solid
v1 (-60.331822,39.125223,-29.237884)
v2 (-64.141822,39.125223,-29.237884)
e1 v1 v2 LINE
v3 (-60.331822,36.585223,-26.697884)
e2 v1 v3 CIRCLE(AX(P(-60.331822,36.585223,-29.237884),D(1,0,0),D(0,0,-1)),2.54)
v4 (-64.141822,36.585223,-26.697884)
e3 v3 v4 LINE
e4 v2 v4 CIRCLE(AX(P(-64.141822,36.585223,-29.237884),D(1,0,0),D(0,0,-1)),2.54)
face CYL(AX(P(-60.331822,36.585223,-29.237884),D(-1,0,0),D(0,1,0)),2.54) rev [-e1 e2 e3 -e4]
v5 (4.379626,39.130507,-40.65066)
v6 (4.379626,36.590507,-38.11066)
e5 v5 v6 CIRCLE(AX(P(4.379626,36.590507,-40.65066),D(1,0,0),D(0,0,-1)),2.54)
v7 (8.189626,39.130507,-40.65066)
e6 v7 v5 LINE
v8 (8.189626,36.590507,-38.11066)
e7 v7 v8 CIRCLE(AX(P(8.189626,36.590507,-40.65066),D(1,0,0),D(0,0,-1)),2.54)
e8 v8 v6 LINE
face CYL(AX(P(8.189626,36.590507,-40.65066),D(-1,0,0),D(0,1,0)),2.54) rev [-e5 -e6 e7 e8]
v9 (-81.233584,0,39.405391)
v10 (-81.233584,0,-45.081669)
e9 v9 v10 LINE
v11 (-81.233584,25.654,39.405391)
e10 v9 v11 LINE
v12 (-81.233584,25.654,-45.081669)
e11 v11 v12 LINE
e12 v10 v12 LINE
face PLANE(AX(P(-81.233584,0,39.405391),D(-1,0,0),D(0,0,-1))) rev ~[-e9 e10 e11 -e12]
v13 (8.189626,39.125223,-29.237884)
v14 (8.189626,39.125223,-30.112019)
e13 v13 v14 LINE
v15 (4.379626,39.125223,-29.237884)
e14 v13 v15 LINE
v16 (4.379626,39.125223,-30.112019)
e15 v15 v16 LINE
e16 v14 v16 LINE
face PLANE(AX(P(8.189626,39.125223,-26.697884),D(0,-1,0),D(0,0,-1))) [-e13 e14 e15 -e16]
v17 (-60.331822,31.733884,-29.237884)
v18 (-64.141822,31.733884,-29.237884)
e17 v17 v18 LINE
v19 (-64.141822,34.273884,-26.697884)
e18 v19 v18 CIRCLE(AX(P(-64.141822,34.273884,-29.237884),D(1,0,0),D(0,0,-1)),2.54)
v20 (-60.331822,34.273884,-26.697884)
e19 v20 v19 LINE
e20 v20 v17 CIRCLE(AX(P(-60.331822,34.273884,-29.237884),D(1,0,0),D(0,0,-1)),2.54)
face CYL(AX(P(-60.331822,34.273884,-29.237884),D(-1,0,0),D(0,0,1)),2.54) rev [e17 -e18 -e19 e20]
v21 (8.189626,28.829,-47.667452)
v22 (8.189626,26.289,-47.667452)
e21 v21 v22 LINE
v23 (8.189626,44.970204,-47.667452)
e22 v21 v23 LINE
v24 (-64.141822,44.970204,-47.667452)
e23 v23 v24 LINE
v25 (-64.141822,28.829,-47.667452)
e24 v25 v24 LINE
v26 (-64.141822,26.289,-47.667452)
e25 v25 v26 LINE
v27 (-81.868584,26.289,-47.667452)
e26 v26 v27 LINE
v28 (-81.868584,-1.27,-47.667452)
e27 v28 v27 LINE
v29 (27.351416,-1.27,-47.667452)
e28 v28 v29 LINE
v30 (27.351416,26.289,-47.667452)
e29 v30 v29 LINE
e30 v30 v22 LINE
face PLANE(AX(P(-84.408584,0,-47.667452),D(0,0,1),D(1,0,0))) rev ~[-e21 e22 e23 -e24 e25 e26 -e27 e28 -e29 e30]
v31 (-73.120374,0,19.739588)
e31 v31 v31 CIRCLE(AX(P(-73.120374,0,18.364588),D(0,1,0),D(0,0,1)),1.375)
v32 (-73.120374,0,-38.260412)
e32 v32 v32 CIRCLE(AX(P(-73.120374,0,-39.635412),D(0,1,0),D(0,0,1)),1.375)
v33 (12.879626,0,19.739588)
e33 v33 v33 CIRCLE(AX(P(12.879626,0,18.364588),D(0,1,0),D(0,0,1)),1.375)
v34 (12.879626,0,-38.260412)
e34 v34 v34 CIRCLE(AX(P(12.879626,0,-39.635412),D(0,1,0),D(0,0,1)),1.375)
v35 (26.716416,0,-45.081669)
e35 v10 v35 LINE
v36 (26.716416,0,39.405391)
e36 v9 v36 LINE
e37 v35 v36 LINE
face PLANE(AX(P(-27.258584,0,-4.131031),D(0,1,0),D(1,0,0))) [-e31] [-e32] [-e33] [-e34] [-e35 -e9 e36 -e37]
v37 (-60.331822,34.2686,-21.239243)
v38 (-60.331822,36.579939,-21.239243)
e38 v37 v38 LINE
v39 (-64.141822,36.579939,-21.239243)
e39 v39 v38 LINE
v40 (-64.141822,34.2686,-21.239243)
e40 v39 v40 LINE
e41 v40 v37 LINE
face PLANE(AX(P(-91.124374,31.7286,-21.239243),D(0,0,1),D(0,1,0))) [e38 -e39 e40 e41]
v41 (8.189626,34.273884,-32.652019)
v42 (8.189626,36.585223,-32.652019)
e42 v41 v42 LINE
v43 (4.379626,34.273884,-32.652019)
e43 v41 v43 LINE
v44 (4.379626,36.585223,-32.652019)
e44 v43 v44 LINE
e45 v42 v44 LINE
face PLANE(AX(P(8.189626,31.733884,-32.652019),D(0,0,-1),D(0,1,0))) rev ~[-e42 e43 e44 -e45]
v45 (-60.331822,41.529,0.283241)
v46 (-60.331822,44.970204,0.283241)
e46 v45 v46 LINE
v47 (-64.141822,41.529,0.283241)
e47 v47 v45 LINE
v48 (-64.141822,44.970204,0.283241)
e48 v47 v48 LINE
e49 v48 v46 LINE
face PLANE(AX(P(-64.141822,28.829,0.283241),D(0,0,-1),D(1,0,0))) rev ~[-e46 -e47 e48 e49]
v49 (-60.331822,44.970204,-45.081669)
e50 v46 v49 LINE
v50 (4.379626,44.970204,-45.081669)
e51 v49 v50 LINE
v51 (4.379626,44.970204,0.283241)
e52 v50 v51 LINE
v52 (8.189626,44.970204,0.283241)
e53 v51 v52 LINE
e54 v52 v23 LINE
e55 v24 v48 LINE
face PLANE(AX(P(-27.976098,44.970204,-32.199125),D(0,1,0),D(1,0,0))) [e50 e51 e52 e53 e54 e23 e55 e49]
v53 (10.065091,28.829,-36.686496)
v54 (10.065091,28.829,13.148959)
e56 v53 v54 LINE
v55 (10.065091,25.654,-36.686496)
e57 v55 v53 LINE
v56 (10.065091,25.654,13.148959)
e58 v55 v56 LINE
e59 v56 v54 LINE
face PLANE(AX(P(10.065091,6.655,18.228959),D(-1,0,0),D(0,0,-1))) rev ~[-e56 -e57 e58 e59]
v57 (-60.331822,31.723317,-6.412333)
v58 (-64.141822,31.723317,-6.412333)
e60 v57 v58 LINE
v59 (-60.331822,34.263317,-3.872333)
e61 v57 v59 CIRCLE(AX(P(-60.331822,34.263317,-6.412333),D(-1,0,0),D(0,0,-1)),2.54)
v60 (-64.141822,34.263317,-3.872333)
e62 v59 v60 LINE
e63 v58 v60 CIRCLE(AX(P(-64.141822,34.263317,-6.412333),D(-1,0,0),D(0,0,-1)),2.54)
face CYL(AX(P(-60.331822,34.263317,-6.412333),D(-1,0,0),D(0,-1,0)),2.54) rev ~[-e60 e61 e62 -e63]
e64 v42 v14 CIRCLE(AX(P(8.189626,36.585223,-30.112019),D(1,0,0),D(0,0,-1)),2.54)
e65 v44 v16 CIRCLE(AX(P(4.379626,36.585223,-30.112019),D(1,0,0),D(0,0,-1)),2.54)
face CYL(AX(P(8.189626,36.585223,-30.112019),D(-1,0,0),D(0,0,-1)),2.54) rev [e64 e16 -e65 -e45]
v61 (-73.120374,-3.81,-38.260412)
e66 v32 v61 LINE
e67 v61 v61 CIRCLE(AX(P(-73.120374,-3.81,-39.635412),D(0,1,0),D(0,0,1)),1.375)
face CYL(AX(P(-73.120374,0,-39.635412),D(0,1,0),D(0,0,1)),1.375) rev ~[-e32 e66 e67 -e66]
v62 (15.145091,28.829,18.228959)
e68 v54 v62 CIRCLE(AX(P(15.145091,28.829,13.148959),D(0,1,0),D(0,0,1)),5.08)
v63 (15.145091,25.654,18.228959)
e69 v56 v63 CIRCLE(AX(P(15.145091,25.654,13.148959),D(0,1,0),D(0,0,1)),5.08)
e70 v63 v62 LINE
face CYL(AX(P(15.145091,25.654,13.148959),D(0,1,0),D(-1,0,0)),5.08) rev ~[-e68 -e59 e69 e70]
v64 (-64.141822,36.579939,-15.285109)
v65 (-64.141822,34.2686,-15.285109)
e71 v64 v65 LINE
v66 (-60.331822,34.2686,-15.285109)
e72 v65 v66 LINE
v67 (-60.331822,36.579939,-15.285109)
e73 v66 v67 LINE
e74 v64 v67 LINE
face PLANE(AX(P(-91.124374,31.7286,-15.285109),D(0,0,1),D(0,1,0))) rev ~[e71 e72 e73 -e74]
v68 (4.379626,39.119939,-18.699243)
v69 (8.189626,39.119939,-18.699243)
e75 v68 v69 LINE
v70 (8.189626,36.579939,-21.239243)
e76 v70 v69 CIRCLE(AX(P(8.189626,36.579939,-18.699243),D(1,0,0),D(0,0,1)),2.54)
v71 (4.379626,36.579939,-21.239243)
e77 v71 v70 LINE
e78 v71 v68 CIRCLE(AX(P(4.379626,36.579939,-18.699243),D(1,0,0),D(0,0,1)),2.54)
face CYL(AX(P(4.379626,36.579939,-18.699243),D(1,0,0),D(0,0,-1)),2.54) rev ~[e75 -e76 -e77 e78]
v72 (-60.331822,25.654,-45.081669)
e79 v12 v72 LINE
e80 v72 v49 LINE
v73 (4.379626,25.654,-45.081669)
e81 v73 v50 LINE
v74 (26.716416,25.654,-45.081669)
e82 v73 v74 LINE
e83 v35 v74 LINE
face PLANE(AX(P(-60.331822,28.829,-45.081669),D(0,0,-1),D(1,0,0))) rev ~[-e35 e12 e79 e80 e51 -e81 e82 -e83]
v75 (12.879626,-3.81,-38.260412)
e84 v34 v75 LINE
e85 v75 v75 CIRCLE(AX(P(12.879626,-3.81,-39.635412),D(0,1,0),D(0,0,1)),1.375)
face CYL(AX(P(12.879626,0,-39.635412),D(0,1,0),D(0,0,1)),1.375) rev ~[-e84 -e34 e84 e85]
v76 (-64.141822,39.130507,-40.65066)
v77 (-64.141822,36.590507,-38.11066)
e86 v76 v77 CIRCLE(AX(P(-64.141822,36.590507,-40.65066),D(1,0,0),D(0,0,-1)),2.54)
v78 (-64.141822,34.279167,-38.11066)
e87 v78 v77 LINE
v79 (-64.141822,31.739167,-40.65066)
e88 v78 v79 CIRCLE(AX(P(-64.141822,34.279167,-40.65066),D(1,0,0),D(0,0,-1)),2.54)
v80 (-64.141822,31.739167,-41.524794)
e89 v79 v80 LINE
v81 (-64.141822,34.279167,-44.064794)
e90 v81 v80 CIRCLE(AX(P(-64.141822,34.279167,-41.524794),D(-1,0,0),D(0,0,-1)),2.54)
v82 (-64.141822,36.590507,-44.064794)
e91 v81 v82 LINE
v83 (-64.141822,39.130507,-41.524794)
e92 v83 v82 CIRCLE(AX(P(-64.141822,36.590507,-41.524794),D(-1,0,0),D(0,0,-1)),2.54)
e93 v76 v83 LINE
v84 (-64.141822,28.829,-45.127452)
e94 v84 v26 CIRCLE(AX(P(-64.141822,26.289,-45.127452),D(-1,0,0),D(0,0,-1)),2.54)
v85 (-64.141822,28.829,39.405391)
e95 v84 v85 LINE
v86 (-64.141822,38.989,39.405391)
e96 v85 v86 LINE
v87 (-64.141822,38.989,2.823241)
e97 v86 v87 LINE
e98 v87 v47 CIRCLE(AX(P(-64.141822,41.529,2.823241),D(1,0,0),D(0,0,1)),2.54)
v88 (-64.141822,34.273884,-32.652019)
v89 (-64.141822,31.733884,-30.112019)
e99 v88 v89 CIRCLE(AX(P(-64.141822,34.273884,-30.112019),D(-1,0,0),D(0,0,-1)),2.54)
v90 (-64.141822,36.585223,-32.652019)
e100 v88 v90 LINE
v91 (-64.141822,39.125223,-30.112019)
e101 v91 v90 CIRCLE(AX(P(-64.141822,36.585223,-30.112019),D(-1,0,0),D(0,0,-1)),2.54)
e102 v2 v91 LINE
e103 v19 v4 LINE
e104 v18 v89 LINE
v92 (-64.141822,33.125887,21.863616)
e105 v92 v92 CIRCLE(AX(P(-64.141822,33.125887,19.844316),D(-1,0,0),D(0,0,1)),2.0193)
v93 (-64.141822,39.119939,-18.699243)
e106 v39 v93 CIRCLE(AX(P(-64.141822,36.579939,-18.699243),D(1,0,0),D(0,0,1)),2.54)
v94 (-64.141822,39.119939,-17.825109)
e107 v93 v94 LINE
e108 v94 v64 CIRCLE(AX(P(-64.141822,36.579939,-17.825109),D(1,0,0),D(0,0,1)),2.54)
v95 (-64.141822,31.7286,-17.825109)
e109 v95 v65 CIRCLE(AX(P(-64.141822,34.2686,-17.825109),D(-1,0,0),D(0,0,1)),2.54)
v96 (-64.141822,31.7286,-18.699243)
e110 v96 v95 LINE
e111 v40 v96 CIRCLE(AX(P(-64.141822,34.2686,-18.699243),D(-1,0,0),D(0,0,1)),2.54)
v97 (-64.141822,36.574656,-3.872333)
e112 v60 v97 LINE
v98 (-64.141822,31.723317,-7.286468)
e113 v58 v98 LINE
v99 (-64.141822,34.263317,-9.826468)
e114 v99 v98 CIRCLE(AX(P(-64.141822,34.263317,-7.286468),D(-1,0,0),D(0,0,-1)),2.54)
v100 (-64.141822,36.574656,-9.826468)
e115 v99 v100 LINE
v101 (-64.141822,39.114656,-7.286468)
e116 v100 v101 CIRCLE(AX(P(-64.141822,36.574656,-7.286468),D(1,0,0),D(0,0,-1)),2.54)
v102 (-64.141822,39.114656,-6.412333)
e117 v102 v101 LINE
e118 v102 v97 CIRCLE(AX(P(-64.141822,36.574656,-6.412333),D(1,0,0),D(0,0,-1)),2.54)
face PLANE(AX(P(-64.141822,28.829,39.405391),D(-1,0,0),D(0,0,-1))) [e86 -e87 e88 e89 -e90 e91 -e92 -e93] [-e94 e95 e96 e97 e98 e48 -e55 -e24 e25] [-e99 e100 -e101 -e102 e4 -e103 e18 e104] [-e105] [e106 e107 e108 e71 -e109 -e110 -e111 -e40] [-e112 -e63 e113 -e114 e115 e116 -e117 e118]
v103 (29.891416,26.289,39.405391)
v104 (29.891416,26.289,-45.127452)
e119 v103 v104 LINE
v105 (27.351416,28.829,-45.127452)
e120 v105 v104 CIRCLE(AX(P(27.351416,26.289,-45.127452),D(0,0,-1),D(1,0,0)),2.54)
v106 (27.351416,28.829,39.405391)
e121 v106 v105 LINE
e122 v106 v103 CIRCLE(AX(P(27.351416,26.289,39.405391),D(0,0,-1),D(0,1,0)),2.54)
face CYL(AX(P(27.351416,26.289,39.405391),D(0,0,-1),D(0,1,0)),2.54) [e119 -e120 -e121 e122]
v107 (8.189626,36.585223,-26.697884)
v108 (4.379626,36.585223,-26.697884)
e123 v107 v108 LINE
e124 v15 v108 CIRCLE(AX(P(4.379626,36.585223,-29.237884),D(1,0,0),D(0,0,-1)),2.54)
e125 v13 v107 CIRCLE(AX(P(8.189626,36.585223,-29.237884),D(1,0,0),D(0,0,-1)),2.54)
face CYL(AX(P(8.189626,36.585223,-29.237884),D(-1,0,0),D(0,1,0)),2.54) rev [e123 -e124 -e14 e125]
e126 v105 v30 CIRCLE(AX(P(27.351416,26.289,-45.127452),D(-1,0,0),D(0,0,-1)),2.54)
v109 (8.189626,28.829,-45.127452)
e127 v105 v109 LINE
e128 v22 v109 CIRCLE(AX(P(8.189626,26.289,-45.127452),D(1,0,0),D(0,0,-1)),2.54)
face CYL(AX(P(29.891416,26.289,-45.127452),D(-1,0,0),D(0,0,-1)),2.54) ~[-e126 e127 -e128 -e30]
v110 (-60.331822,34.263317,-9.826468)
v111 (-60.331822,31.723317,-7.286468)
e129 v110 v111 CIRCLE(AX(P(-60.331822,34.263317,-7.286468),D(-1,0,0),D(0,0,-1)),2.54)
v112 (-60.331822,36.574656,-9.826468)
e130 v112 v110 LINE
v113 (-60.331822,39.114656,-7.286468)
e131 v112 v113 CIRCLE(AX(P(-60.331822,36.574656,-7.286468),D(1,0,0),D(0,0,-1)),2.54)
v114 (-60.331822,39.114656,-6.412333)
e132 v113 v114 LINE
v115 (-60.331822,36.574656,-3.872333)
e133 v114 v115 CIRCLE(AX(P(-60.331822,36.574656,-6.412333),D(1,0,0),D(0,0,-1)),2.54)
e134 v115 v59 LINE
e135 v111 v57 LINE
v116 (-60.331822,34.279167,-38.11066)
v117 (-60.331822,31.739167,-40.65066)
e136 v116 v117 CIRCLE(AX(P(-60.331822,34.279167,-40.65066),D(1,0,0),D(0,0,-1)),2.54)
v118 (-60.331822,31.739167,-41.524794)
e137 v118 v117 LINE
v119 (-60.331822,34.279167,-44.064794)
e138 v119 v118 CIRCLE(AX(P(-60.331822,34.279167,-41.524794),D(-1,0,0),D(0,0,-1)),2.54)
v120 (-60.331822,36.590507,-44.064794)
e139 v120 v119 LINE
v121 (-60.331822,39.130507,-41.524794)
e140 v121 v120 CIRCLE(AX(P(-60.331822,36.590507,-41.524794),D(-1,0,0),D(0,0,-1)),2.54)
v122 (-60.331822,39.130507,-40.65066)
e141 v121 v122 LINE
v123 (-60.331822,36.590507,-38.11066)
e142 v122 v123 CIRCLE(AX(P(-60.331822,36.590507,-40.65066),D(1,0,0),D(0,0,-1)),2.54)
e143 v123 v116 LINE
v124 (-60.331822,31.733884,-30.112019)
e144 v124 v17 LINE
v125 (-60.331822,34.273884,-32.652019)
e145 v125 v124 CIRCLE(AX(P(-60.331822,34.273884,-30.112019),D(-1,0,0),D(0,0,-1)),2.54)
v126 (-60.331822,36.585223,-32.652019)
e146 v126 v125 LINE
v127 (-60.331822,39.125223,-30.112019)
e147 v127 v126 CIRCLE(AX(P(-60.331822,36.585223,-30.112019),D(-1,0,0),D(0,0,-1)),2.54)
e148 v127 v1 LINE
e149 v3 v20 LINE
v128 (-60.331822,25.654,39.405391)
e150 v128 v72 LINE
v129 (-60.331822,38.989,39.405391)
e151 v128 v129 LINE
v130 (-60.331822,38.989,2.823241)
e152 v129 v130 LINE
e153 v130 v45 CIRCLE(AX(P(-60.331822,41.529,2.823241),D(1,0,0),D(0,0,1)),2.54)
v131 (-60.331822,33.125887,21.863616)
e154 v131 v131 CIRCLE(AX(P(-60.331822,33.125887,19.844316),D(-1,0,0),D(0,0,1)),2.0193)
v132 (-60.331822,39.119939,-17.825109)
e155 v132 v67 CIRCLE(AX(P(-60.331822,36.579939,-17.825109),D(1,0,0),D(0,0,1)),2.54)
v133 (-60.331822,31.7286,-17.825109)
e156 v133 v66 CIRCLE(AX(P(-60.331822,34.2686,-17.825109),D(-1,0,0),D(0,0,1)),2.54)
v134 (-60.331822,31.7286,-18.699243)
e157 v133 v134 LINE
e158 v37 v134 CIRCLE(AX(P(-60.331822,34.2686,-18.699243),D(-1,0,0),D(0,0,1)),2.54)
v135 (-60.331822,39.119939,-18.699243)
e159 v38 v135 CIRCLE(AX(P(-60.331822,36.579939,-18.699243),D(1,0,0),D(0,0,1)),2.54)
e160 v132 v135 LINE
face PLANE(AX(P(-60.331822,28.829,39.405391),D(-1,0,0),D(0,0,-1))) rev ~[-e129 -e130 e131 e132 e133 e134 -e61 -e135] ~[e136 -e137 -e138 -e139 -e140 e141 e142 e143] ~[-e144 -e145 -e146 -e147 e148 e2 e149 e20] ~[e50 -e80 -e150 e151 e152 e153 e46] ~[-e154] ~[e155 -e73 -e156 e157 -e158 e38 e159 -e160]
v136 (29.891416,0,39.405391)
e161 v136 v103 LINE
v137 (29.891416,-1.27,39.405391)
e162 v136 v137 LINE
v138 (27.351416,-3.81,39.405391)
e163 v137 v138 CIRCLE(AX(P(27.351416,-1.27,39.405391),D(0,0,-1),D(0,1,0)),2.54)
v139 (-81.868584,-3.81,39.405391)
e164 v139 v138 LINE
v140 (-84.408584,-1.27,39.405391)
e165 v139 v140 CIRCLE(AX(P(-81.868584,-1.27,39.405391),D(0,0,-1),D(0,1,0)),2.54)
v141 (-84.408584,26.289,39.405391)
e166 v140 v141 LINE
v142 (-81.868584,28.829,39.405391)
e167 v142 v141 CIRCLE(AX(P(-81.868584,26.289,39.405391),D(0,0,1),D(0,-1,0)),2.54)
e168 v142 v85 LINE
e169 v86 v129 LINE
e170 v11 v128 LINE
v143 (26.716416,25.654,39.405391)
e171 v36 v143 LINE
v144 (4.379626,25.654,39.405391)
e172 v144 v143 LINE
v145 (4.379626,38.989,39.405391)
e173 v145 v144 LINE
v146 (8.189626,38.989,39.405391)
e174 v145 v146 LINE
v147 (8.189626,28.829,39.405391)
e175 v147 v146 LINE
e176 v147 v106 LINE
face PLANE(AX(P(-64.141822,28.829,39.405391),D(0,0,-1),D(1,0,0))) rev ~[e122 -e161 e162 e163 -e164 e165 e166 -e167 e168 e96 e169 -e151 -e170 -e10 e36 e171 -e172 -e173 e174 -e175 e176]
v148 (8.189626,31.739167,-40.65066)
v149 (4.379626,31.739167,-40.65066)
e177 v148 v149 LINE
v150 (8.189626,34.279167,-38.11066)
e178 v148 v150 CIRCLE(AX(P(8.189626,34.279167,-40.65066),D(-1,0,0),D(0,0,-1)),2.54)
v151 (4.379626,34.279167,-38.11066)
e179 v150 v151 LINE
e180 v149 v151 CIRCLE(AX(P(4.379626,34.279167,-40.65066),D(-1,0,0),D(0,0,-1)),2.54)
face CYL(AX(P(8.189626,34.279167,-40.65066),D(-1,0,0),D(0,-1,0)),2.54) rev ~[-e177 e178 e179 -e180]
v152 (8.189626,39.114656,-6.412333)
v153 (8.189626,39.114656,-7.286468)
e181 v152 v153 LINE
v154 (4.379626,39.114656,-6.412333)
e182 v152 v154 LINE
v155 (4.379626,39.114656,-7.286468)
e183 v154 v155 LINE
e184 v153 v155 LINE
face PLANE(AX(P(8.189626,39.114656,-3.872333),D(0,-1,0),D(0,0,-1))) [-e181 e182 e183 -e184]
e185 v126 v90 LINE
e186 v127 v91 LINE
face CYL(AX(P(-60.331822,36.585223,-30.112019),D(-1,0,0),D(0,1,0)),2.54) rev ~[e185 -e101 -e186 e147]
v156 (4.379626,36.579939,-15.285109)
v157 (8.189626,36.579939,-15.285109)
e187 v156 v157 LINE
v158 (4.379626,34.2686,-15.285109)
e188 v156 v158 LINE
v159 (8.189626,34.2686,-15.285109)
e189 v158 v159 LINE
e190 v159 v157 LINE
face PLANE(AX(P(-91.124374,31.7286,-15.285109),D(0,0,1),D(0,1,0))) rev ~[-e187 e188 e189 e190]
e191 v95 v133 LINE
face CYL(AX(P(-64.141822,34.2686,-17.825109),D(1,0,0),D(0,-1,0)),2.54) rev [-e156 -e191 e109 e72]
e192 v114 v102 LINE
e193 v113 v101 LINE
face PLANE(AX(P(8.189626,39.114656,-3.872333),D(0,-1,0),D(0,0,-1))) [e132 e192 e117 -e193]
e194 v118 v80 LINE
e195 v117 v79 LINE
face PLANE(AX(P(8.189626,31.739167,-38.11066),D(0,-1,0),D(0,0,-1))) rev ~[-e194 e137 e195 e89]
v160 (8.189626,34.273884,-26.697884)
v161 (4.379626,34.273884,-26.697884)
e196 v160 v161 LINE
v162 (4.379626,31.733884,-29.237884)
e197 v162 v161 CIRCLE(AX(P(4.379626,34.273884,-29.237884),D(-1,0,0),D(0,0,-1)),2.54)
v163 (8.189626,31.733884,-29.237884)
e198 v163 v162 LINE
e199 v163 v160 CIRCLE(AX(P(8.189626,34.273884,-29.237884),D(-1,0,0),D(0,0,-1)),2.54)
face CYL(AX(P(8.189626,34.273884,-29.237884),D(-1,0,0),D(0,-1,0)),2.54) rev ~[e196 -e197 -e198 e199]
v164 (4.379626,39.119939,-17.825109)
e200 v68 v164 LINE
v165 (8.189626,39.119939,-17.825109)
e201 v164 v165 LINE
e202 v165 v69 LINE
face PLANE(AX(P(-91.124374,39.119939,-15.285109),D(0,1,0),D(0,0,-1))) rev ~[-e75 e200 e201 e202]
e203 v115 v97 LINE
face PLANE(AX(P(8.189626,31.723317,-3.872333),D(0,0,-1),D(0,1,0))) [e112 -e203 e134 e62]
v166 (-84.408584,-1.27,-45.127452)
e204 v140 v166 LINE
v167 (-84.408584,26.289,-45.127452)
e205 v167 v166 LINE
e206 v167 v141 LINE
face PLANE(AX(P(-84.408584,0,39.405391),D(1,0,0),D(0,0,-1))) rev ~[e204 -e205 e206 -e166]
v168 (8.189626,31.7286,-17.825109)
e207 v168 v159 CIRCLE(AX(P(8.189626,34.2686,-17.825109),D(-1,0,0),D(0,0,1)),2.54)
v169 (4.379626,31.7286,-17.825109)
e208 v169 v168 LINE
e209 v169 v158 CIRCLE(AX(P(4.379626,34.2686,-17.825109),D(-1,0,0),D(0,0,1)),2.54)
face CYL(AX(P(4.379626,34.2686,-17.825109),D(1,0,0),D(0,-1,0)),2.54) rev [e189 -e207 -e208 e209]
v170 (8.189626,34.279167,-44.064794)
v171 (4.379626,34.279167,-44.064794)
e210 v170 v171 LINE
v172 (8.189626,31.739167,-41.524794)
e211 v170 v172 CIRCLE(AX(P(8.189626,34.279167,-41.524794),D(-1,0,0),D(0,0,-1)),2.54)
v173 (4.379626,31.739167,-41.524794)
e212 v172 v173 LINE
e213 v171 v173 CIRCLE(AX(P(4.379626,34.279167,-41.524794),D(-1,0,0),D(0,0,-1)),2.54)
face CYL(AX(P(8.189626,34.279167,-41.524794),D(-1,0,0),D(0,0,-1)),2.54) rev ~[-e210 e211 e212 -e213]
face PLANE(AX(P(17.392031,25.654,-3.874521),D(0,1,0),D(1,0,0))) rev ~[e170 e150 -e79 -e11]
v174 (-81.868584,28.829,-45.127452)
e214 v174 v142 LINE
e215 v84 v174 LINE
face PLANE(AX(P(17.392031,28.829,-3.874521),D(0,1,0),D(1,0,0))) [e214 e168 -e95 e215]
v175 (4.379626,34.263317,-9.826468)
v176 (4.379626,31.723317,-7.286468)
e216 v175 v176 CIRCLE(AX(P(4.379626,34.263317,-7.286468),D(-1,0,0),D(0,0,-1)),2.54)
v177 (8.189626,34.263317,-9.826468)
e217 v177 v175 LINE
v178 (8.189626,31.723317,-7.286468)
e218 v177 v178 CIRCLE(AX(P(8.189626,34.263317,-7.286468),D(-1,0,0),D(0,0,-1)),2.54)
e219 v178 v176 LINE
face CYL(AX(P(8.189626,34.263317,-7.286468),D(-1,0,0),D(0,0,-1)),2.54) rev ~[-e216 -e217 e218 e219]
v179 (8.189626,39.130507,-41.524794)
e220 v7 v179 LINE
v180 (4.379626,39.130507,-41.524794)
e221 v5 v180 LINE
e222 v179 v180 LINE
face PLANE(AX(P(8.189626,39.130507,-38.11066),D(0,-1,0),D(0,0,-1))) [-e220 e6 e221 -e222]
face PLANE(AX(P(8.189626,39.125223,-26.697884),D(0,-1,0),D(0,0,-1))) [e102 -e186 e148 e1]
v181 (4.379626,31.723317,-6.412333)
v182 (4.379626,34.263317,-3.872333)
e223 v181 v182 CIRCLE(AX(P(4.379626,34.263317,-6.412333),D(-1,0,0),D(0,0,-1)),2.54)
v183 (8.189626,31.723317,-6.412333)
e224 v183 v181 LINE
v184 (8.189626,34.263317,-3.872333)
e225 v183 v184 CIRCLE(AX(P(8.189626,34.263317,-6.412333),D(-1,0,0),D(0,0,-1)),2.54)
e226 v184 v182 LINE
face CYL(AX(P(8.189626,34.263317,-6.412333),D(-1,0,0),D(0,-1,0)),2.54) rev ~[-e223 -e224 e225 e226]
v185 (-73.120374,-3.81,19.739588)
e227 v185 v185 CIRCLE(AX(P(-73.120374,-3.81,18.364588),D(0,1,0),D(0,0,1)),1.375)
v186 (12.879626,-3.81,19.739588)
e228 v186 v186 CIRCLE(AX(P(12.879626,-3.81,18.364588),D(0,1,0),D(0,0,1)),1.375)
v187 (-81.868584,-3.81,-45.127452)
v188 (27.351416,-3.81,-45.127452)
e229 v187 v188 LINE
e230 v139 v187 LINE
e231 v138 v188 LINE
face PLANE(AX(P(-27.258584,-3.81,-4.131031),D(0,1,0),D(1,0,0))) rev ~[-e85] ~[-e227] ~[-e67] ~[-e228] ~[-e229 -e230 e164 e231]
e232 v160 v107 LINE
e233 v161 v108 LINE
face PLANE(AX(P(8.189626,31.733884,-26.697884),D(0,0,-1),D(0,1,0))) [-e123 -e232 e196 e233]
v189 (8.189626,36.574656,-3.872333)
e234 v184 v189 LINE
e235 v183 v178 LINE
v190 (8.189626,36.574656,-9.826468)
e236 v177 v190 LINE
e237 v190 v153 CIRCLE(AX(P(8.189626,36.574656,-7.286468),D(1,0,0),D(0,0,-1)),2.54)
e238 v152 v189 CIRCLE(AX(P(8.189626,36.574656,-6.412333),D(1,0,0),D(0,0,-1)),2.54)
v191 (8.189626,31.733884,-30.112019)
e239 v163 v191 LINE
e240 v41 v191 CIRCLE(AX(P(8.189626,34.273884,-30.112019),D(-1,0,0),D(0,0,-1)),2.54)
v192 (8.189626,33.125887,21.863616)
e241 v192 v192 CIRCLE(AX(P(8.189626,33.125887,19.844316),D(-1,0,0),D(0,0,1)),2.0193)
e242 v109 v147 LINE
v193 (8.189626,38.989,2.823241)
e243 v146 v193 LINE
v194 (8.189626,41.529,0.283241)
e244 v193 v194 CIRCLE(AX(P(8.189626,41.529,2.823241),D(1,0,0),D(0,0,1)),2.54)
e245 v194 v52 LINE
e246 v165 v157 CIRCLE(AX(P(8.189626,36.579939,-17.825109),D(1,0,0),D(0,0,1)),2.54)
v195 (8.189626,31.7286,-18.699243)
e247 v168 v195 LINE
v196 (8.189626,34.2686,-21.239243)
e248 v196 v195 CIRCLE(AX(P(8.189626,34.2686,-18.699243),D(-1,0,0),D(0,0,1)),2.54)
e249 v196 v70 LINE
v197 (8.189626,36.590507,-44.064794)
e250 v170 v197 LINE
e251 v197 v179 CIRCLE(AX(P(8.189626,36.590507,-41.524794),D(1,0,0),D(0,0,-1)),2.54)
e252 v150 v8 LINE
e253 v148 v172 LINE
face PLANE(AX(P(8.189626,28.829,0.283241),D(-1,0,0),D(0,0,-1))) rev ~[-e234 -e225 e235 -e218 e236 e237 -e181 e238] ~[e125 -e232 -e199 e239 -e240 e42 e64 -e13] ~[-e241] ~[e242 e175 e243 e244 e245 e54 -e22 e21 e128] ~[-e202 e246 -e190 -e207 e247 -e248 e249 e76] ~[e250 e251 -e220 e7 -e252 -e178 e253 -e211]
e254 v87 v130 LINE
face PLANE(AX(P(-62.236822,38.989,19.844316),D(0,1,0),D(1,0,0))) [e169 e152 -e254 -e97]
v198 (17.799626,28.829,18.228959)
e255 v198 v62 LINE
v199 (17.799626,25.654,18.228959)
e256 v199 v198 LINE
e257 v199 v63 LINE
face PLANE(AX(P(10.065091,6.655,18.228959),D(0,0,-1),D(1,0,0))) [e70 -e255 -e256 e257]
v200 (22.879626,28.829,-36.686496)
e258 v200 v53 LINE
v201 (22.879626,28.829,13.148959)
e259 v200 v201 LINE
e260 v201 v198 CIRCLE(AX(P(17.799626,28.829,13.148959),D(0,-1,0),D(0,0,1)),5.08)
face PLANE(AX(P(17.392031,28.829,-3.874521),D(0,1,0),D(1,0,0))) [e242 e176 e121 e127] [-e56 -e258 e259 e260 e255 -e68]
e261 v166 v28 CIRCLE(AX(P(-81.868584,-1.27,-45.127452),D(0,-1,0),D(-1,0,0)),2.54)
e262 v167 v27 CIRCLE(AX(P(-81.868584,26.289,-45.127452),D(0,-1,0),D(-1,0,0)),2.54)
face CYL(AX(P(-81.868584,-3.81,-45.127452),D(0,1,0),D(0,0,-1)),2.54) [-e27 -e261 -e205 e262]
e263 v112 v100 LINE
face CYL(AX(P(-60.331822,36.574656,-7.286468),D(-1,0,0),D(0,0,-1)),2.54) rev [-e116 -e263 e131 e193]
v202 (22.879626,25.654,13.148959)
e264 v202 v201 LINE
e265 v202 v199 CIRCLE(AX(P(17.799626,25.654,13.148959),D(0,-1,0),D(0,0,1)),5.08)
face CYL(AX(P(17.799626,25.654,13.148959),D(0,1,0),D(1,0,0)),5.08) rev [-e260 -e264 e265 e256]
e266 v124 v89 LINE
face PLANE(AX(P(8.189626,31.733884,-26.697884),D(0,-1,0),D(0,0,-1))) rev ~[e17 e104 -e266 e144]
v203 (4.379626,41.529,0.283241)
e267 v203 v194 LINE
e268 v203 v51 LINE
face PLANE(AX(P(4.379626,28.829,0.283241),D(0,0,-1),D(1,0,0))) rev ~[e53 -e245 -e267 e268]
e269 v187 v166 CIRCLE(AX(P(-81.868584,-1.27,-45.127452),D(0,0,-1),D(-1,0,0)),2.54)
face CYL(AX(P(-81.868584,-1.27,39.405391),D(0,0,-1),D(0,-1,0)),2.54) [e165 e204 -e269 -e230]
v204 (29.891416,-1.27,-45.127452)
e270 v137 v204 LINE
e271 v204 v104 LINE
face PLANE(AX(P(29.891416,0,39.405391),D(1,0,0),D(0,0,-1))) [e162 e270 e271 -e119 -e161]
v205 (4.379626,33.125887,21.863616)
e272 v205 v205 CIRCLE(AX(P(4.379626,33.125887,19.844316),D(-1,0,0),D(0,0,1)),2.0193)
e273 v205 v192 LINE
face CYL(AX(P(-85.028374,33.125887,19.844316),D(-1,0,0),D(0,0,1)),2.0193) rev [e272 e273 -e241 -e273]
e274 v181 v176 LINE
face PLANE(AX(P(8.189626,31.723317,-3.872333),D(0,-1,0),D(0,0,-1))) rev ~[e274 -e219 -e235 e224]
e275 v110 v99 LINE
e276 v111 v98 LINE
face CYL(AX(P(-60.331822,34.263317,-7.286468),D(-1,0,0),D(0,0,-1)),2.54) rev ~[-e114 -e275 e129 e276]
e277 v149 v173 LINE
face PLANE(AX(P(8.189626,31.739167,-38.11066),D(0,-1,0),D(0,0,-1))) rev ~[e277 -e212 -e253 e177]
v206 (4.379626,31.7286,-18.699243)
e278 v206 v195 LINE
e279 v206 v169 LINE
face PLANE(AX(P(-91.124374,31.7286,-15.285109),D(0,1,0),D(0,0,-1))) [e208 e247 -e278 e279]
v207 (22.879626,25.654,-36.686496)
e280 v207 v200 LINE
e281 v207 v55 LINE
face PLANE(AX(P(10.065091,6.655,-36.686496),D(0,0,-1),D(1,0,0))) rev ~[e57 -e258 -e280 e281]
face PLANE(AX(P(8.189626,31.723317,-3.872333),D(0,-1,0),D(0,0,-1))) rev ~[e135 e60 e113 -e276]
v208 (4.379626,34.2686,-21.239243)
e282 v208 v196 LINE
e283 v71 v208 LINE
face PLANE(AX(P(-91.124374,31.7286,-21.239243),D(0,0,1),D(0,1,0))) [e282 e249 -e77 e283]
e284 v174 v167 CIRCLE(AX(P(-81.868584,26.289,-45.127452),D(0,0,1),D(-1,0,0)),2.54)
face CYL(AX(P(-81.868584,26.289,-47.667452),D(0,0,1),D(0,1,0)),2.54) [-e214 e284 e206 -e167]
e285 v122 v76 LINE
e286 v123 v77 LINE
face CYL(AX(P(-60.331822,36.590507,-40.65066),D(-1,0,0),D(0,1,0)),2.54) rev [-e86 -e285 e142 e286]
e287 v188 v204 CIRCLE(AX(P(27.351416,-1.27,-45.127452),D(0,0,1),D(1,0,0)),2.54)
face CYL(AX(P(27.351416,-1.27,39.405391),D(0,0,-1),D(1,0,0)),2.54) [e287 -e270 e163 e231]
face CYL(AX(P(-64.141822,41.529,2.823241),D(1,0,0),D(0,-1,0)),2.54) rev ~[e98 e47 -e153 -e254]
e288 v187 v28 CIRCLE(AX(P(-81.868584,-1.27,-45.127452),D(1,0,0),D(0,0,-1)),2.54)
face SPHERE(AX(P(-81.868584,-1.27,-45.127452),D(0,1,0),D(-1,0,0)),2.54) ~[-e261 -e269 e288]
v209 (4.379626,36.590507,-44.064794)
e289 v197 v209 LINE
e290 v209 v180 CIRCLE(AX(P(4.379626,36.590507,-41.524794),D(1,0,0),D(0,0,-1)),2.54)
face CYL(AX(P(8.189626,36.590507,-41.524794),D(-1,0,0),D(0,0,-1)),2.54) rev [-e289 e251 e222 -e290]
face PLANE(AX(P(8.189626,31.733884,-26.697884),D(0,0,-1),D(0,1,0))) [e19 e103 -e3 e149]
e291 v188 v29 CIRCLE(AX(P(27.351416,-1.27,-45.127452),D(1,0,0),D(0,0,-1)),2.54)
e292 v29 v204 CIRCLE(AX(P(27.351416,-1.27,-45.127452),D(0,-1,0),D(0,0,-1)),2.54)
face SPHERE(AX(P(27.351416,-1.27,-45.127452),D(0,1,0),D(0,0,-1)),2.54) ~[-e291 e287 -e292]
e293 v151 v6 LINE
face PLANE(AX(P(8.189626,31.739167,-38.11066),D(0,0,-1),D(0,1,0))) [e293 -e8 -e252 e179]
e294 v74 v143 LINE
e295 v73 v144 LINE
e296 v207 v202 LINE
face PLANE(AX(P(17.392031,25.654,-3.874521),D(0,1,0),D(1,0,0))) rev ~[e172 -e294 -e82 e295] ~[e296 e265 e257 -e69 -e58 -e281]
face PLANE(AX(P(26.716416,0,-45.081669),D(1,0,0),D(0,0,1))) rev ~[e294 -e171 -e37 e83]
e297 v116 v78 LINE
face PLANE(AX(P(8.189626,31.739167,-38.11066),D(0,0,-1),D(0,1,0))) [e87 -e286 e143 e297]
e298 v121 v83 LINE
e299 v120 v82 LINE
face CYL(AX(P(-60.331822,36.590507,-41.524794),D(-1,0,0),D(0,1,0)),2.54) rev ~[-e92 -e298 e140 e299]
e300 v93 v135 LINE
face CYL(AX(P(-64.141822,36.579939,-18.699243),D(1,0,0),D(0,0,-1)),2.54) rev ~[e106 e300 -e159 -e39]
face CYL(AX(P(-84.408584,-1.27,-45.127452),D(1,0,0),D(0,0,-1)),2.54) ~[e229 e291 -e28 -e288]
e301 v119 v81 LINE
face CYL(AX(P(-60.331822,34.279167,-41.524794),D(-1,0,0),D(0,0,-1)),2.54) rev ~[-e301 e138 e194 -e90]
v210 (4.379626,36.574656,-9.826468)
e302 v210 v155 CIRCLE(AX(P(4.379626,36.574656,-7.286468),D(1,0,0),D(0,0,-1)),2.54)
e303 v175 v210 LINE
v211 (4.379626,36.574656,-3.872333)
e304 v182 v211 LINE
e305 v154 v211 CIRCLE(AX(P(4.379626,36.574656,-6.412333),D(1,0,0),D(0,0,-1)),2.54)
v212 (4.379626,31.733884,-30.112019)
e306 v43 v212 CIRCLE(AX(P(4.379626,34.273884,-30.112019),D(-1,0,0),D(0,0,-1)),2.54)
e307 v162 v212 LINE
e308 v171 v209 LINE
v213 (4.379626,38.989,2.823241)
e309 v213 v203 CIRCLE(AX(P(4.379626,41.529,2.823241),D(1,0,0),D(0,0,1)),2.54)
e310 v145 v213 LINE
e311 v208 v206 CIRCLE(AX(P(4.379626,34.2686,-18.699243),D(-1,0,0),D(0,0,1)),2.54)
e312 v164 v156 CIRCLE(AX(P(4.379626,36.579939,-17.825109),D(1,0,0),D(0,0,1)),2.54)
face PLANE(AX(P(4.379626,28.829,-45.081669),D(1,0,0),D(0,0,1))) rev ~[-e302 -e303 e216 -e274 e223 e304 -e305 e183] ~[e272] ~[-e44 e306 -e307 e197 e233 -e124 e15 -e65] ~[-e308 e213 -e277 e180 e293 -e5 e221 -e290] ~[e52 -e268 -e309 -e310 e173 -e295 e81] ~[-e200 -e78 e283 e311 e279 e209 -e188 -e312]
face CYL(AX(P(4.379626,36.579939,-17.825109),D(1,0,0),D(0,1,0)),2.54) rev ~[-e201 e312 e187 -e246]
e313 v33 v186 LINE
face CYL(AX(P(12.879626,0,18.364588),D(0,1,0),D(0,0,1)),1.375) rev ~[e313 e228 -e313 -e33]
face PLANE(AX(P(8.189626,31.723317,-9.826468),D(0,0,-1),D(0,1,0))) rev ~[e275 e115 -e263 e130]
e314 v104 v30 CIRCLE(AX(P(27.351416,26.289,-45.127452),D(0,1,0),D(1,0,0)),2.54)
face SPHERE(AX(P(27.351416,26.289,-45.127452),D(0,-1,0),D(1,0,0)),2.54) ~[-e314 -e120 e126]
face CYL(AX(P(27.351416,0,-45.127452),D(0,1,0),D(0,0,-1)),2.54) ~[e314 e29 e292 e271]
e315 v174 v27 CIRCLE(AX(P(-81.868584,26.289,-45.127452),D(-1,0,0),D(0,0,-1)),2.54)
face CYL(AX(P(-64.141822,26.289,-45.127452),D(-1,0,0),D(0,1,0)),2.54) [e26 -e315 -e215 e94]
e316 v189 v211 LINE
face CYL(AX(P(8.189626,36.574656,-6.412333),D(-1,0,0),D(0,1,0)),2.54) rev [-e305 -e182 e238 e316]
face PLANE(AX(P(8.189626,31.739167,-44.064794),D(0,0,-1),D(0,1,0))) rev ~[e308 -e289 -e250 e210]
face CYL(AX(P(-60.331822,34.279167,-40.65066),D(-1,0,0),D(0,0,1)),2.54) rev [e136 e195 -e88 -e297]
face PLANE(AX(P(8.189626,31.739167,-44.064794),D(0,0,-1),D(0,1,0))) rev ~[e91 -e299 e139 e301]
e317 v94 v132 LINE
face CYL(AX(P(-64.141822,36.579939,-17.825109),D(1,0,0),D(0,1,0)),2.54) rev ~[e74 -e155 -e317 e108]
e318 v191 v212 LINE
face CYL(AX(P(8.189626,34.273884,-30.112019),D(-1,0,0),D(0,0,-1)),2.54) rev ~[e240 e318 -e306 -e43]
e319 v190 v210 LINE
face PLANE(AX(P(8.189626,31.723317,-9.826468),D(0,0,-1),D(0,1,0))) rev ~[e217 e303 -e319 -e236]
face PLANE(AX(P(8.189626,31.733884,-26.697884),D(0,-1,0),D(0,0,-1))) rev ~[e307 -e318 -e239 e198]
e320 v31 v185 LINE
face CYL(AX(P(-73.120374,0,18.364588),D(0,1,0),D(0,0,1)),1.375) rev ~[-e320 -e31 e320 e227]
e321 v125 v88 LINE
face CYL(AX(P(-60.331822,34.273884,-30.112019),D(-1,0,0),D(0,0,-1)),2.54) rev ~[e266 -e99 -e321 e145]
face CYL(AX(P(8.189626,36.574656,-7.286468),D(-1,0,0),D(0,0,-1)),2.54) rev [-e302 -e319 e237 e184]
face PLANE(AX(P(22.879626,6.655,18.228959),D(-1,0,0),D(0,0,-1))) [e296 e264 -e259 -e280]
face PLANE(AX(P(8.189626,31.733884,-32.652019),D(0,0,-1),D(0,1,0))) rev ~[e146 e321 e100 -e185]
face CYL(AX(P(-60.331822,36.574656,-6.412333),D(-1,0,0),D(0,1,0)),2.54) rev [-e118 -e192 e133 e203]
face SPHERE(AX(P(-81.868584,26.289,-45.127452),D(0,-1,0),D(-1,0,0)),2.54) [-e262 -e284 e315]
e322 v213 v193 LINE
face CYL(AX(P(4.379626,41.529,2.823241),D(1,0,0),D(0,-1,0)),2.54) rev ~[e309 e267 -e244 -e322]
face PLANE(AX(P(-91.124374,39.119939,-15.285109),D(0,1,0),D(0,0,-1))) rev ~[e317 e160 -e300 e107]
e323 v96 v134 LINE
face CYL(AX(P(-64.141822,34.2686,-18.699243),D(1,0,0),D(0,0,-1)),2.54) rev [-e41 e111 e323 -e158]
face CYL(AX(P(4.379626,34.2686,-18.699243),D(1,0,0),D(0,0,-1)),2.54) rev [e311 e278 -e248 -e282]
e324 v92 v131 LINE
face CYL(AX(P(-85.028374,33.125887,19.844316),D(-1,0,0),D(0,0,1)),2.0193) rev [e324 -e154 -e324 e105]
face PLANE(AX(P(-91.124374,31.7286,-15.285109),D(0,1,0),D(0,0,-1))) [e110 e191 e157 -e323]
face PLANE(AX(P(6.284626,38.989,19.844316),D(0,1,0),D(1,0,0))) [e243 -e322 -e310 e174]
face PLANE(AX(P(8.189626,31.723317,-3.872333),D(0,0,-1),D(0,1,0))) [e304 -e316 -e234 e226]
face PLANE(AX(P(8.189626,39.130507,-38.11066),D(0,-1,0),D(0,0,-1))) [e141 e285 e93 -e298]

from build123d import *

# Parameters (mm, degrees)
BOSS_EXTRUDE2_DEPTH     = 25.654
BOSS_EXTRUDE4_DEPTH     = 3.175
BOSS_EXTRUDE5_DEPTH     = 16.141204421
CUT_EXTRUDE1_DEPTH      = 36.068
CUT_EXTRUDE1_DEPTH_BACK = 99.314
SKETCH8_W               = 5.954134369
SKETCH8_H               = 7.391339216
SKETCH8_3_W             = 5.954134368
SKETCH8_3_H             = 7.391339216
SKETCH8_3_W_2           = 5.954134369
CUT_EXTRUDE2_DEPTH      = 99.314
SKETCH10_W              = 114.3
SKETCH10_H              = 87.072843295
BOSS_EXTRUDE7_DEPTH     = 3.81
SKETCH11_W              = 12.814534476
SKETCH11_H              = 54.915455345
CUT_EXTRUDE4_DEPTH      = 23.368
SKETCH18_W              = 3.81
SKETCH18_H              = 39.122149616
BOSS_EXTRUDE10_DEPTH    = 10.16
CUT_EXTRUDE5_DEPTH      = 33.528
CUT_EXTRUDE5_DEPTH_BACK = 93.218
SKETCH20_R              = 2.0193
CUT_EXTRUDE7_REACH      = 108.861
SKETCH21_R              = 1.375
FILLET1_R               = 2.54
FILLET2_R               = 2.54
FILLET3_R               = 2.54
FILLET4_R               = 5.08


with BuildPart() as part:
    # Sketch1 → Boss-Extrude2 (new body)
    with BuildSketch(Plane(origin=(0, 0, 0), x_dir=(1, 0, 0), z_dir=(0, 1, 0))):
        Polygon((29.891415821, 47.667452431), (-84.408584179, 47.667452431), (-84.408584179, -39.405390864), (-81.233584179, -39.405390864), (-81.233584179, 45.081669174), (26.716415821, 45.081669174), (26.716415821, -39.405390864), (29.891415821, -39.405390864), align=None)
    extrude(amount=BOSS_EXTRUDE2_DEPTH)

    # Sketch3 → Boss-Extrude4 (add)
    with BuildSketch(Plane(origin=(0, 25.654, 0), x_dir=(1, 0, 0), z_dir=(0, 1, 0))):
        Polygon((29.891415821, 47.667452431), (-84.408584179, 47.667452431), (-84.408584179, -39.405390864), (-60.331822089, -39.405390864), (-60.331822089, 45.081669174), (4.379625861, 45.081669174), (4.379625861, -39.405390864), (29.891415821, -39.405390864), align=None)
    extrude(amount=BOSS_EXTRUDE4_DEPTH)

    # Sketch4 → Boss-Extrude5 (add)
    with BuildSketch(Plane(origin=(0, 28.829, 0), x_dir=(1, 0, 0), z_dir=(0, 1, 0))):
        Polygon((-64.141822089, -0.283241248), (-60.331822089, -0.283241248), (-60.331822089, 45.081669174), (4.379625861, 45.081669174), (4.379625861, -0.283241248), (8.189625861, -0.283241248), (8.189625861, 47.667452431), (-64.141822089, 47.667452431), align=None)
    extrude(amount=BOSS_EXTRUDE5_DEPTH)

    # Sketch8 → Cut-Extrude1 (cut, two sides: drawn at the far end of the back side and taken through both)
    with BuildSketch(Plane(origin=(8.189625861, 0, 0), x_dir=(0, 0, -1), z_dir=(1, 0, 0)).offset(-CUT_EXTRUDE1_DEPTH_BACK)):
        with Locations((18.262175985, 35.424269821)):
            Rectangle(SKETCH8_W, SKETCH8_H)
    extrude(amount=CUT_EXTRUDE1_DEPTH + CUT_EXTRUDE1_DEPTH_BACK, mode=Mode.SUBTRACT)

    # Sketch8<3> → Cut-Extrude2 (cut)
    with BuildSketch(Plane(origin=(8.189625861, 0, 0), x_dir=(0, 0, -1), z_dir=(1, 0, 0))):
        with Locations((41.087726864, 35.434837043)):
            Rectangle(SKETCH8_3_W, SKETCH8_3_H)
        with Locations((29.674951425, 35.429553432)):
            Rectangle(SKETCH8_3_W_2, SKETCH8_3_H)
        with Locations((18.262175985, 35.424269821)):
            Rectangle(SKETCH8_3_W_2, SKETCH8_3_H)
        with Locations((6.849400545, 35.41898621)):
            Rectangle(SKETCH8_3_W, SKETCH8_3_H)
    extrude(amount=-CUT_EXTRUDE2_DEPTH, mode=Mode.SUBTRACT)

    # Sketch10 → Boss-Extrude7 (add)
    with BuildSketch(Plane(origin=(0, 0, 0), x_dir=(1, 0, 0), z_dir=(0, 1, 0))):
        with Locations((-27.258584179, 4.131030783)):
            Rectangle(SKETCH10_W, SKETCH10_H)
    extrude(amount=-BOSS_EXTRUDE7_DEPTH)

    # Sketch11 → Cut-Extrude4 (cut)
    with BuildSketch(Plane(origin=(0, 6.655, 0), x_dir=(1, 0, 0), z_dir=(0, 1, 0))):
        with Locations((16.472358623, 9.22876842)):
            Rectangle(SKETCH11_W, SKETCH11_H)
    extrude(amount=CUT_EXTRUDE4_DEPTH, mode=Mode.SUBTRACT)

    # Sketch18 → Boss-Extrude10 (add)
    with BuildSketch(Plane(origin=(0, 28.829, 0), x_dir=(1, 0, 0), z_dir=(0, 1, 0))):
        with Locations((-62.236822089, -19.844316056)):
            Rectangle(SKETCH18_W, SKETCH18_H)
        with Locations((6.284625861, -19.844316056)):
            Rectangle(SKETCH18_W, SKETCH18_H)
    extrude(amount=BOSS_EXTRUDE10_DEPTH)

    # Sketch20 → Cut-Extrude5 (cut, two sides: drawn at the far end of the back side and taken through both)
    with BuildSketch(Plane(origin=(8.189625861, 0, 0), x_dir=(0, 0, -1), z_dir=(1, 0, 0)).offset(-CUT_EXTRUDE5_DEPTH_BACK)):
        with Locations((-19.844316056, 33.125886584)):
            Circle(SKETCH20_R)
    extrude(amount=CUT_EXTRUDE5_DEPTH + CUT_EXTRUDE5_DEPTH_BACK, mode=Mode.SUBTRACT)

    # Sketch21 → Cut-Extrude7 (cut, up to next)
    with BuildSketch(Plane(origin=(0, 0, 0), x_dir=(1, 0, 0), z_dir=(0, 1, 0)), mode=Mode.PRIVATE) as cut_extrude7_sk1:
        with Locations((-73.120374139, 39.635412246)):
            Circle(SKETCH21_R)
    cut_extrude7_tool1 = extrude(cut_extrude7_sk1.sketch, amount=-CUT_EXTRUDE7_REACH, mode=Mode.PRIVATE) & part.part
    # Sketch21 → Cut-Extrude7 (cut, up to next)
    with BuildSketch(Plane(origin=(0, 0, 0), x_dir=(1, 0, 0), z_dir=(0, 1, 0)), mode=Mode.PRIVATE) as cut_extrude7_sk2:
        with Locations((12.879625861, 39.635412246)):
            Circle(SKETCH21_R)
    cut_extrude7_tool2 = extrude(cut_extrude7_sk2.sketch, amount=-CUT_EXTRUDE7_REACH, mode=Mode.PRIVATE) & part.part
    # Sketch21 → Cut-Extrude7 (cut, up to next)
    with BuildSketch(Plane(origin=(0, 0, 0), x_dir=(1, 0, 0), z_dir=(0, 1, 0)), mode=Mode.PRIVATE) as cut_extrude7_sk3:
        with Locations((12.879625861, -18.364587754)):
            Circle(SKETCH21_R)
    cut_extrude7_tool3 = extrude(cut_extrude7_sk3.sketch, amount=-CUT_EXTRUDE7_REACH, mode=Mode.PRIVATE) & part.part
    # Sketch21 → Cut-Extrude7 (cut, up to next)
    with BuildSketch(Plane(origin=(0, 0, 0), x_dir=(1, 0, 0), z_dir=(0, 1, 0)), mode=Mode.PRIVATE) as cut_extrude7_sk4:
        with Locations((-73.120374139, -18.364587754)):
            Circle(SKETCH21_R)
    cut_extrude7_tool4 = extrude(cut_extrude7_sk4.sketch, amount=-CUT_EXTRUDE7_REACH, mode=Mode.PRIVATE) & part.part
    add(cut_extrude7_tool1.solids().sort_by_distance((-73.120374, 0, -39.635412))[0], mode=Mode.SUBTRACT)
    add(cut_extrude7_tool2.solids().sort_by_distance((12.879626, 0, -39.635412))[0], mode=Mode.SUBTRACT)
    add(cut_extrude7_tool3.solids().sort_by_distance((12.879626, 0, 18.364588))[0], mode=Mode.SUBTRACT)
    add(cut_extrude7_tool4.solids().sort_by_distance((-73.120374, 0, 18.364588))[0], mode=Mode.SUBTRACT)

    # Fillet1
    fillet1_edges = [part.edges().sort_by_distance(p)[0] for p in [
        (19.040520841, 28.829, -47.667452431),
        (29.891415821, 28.829, -4.131030784),
        (-84.408584179, -3.81, -4.131030784),
        (-84.408584179, 12.5095, -47.667452431),
        (29.891415821, 12.5095, -47.667452431),
        (-27.258584179, -3.81, -47.667452431),
        (29.891415821, -3.81, -4.131030784),
        (-84.408584179, 28.829, -4.131030784),
        (-74.275203134, 28.829, -47.667452431),
    ]]
    fillet(fillet1_edges, radius=FILLET1_R)

    # Fillet2
    fillet2_edges = [part.edges().sort_by_distance(p)[0] for p in [
        (-62.236822089, 39.119939429, -21.239243169),
        (-62.236822089, 31.728600213, -21.239243169),
        (-62.236822089, 31.728600213, -15.2851088),
        (-62.236822089, 39.119939429, -15.2851088),
        (-62.236822089, 31.723316602, -3.872333361),
        (-62.236822089, 39.114655818, -3.872333361),
        (-62.236822089, 39.114655818, -9.826467729),
        (-62.236822089, 31.723316602, -9.826467729),
        (-62.236822089, 31.733883824, -26.69788424),
        (-62.236822089, 39.12522304, -26.69788424),
        (-62.236822089, 39.12522304, -32.652018609),
        (-62.236822089, 31.733883824, -32.652018609),
        (-62.236822089, 31.739167435, -38.11065968),
        (-62.236822089, 39.130506651, -38.11065968),
        (-62.236822089, 39.130506651, -44.064794048),
        (-62.236822089, 31.739167435, -44.064794048),
        (6.284625861, 39.119939429, -15.2851088),
        (6.284625861, 39.119939429, -21.239243169),
        (6.284625861, 31.728600213, -21.239243169),
        (6.284625861, 31.728600213, -15.2851088),
        (6.284625861, 31.723316602, -9.826467729),
        (6.284625861, 39.114655818, -3.872333361),
        (6.284625861, 39.114655818, -9.826467729),
        (6.284625861, 31.733883824, -32.652018609),
        (6.284625861, 31.733883824, -26.69788424),
        (6.284625861, 39.12522304, -26.69788424),
        (6.284625861, 39.12522304, -32.652018609),
        (6.284625861, 39.130506651, -44.064794048),
        (6.284625861, 31.739167435, -44.064794048),
        (6.284625861, 31.739167435, -38.11065968),
        (6.284625861, 39.130506651, -38.11065968),
        (6.284625861, 31.723316602, -3.872333361),
    ]]
    fillet(fillet2_edges, radius=FILLET2_R)

    # Fillet3
    fillet3_edges = [part.edges().sort_by_distance(p)[0] for p in [
        (-62.236822089, 38.989, 0.283241248),
        (6.284625861, 38.989, 0.283241248),
    ]]
    fillet(fillet3_edges, radius=FILLET3_R)

    # Fillet4
    fillet4_edges = [part.edges().sort_by_distance(p)[0] for p in [
        (10.065091385, 27.2415, 18.228959253),
        (22.879625861, 27.2415, 18.228959253),
    ]]
    fillet(fillet4_edges, radius=FILLET4_R)


solid = part.part
